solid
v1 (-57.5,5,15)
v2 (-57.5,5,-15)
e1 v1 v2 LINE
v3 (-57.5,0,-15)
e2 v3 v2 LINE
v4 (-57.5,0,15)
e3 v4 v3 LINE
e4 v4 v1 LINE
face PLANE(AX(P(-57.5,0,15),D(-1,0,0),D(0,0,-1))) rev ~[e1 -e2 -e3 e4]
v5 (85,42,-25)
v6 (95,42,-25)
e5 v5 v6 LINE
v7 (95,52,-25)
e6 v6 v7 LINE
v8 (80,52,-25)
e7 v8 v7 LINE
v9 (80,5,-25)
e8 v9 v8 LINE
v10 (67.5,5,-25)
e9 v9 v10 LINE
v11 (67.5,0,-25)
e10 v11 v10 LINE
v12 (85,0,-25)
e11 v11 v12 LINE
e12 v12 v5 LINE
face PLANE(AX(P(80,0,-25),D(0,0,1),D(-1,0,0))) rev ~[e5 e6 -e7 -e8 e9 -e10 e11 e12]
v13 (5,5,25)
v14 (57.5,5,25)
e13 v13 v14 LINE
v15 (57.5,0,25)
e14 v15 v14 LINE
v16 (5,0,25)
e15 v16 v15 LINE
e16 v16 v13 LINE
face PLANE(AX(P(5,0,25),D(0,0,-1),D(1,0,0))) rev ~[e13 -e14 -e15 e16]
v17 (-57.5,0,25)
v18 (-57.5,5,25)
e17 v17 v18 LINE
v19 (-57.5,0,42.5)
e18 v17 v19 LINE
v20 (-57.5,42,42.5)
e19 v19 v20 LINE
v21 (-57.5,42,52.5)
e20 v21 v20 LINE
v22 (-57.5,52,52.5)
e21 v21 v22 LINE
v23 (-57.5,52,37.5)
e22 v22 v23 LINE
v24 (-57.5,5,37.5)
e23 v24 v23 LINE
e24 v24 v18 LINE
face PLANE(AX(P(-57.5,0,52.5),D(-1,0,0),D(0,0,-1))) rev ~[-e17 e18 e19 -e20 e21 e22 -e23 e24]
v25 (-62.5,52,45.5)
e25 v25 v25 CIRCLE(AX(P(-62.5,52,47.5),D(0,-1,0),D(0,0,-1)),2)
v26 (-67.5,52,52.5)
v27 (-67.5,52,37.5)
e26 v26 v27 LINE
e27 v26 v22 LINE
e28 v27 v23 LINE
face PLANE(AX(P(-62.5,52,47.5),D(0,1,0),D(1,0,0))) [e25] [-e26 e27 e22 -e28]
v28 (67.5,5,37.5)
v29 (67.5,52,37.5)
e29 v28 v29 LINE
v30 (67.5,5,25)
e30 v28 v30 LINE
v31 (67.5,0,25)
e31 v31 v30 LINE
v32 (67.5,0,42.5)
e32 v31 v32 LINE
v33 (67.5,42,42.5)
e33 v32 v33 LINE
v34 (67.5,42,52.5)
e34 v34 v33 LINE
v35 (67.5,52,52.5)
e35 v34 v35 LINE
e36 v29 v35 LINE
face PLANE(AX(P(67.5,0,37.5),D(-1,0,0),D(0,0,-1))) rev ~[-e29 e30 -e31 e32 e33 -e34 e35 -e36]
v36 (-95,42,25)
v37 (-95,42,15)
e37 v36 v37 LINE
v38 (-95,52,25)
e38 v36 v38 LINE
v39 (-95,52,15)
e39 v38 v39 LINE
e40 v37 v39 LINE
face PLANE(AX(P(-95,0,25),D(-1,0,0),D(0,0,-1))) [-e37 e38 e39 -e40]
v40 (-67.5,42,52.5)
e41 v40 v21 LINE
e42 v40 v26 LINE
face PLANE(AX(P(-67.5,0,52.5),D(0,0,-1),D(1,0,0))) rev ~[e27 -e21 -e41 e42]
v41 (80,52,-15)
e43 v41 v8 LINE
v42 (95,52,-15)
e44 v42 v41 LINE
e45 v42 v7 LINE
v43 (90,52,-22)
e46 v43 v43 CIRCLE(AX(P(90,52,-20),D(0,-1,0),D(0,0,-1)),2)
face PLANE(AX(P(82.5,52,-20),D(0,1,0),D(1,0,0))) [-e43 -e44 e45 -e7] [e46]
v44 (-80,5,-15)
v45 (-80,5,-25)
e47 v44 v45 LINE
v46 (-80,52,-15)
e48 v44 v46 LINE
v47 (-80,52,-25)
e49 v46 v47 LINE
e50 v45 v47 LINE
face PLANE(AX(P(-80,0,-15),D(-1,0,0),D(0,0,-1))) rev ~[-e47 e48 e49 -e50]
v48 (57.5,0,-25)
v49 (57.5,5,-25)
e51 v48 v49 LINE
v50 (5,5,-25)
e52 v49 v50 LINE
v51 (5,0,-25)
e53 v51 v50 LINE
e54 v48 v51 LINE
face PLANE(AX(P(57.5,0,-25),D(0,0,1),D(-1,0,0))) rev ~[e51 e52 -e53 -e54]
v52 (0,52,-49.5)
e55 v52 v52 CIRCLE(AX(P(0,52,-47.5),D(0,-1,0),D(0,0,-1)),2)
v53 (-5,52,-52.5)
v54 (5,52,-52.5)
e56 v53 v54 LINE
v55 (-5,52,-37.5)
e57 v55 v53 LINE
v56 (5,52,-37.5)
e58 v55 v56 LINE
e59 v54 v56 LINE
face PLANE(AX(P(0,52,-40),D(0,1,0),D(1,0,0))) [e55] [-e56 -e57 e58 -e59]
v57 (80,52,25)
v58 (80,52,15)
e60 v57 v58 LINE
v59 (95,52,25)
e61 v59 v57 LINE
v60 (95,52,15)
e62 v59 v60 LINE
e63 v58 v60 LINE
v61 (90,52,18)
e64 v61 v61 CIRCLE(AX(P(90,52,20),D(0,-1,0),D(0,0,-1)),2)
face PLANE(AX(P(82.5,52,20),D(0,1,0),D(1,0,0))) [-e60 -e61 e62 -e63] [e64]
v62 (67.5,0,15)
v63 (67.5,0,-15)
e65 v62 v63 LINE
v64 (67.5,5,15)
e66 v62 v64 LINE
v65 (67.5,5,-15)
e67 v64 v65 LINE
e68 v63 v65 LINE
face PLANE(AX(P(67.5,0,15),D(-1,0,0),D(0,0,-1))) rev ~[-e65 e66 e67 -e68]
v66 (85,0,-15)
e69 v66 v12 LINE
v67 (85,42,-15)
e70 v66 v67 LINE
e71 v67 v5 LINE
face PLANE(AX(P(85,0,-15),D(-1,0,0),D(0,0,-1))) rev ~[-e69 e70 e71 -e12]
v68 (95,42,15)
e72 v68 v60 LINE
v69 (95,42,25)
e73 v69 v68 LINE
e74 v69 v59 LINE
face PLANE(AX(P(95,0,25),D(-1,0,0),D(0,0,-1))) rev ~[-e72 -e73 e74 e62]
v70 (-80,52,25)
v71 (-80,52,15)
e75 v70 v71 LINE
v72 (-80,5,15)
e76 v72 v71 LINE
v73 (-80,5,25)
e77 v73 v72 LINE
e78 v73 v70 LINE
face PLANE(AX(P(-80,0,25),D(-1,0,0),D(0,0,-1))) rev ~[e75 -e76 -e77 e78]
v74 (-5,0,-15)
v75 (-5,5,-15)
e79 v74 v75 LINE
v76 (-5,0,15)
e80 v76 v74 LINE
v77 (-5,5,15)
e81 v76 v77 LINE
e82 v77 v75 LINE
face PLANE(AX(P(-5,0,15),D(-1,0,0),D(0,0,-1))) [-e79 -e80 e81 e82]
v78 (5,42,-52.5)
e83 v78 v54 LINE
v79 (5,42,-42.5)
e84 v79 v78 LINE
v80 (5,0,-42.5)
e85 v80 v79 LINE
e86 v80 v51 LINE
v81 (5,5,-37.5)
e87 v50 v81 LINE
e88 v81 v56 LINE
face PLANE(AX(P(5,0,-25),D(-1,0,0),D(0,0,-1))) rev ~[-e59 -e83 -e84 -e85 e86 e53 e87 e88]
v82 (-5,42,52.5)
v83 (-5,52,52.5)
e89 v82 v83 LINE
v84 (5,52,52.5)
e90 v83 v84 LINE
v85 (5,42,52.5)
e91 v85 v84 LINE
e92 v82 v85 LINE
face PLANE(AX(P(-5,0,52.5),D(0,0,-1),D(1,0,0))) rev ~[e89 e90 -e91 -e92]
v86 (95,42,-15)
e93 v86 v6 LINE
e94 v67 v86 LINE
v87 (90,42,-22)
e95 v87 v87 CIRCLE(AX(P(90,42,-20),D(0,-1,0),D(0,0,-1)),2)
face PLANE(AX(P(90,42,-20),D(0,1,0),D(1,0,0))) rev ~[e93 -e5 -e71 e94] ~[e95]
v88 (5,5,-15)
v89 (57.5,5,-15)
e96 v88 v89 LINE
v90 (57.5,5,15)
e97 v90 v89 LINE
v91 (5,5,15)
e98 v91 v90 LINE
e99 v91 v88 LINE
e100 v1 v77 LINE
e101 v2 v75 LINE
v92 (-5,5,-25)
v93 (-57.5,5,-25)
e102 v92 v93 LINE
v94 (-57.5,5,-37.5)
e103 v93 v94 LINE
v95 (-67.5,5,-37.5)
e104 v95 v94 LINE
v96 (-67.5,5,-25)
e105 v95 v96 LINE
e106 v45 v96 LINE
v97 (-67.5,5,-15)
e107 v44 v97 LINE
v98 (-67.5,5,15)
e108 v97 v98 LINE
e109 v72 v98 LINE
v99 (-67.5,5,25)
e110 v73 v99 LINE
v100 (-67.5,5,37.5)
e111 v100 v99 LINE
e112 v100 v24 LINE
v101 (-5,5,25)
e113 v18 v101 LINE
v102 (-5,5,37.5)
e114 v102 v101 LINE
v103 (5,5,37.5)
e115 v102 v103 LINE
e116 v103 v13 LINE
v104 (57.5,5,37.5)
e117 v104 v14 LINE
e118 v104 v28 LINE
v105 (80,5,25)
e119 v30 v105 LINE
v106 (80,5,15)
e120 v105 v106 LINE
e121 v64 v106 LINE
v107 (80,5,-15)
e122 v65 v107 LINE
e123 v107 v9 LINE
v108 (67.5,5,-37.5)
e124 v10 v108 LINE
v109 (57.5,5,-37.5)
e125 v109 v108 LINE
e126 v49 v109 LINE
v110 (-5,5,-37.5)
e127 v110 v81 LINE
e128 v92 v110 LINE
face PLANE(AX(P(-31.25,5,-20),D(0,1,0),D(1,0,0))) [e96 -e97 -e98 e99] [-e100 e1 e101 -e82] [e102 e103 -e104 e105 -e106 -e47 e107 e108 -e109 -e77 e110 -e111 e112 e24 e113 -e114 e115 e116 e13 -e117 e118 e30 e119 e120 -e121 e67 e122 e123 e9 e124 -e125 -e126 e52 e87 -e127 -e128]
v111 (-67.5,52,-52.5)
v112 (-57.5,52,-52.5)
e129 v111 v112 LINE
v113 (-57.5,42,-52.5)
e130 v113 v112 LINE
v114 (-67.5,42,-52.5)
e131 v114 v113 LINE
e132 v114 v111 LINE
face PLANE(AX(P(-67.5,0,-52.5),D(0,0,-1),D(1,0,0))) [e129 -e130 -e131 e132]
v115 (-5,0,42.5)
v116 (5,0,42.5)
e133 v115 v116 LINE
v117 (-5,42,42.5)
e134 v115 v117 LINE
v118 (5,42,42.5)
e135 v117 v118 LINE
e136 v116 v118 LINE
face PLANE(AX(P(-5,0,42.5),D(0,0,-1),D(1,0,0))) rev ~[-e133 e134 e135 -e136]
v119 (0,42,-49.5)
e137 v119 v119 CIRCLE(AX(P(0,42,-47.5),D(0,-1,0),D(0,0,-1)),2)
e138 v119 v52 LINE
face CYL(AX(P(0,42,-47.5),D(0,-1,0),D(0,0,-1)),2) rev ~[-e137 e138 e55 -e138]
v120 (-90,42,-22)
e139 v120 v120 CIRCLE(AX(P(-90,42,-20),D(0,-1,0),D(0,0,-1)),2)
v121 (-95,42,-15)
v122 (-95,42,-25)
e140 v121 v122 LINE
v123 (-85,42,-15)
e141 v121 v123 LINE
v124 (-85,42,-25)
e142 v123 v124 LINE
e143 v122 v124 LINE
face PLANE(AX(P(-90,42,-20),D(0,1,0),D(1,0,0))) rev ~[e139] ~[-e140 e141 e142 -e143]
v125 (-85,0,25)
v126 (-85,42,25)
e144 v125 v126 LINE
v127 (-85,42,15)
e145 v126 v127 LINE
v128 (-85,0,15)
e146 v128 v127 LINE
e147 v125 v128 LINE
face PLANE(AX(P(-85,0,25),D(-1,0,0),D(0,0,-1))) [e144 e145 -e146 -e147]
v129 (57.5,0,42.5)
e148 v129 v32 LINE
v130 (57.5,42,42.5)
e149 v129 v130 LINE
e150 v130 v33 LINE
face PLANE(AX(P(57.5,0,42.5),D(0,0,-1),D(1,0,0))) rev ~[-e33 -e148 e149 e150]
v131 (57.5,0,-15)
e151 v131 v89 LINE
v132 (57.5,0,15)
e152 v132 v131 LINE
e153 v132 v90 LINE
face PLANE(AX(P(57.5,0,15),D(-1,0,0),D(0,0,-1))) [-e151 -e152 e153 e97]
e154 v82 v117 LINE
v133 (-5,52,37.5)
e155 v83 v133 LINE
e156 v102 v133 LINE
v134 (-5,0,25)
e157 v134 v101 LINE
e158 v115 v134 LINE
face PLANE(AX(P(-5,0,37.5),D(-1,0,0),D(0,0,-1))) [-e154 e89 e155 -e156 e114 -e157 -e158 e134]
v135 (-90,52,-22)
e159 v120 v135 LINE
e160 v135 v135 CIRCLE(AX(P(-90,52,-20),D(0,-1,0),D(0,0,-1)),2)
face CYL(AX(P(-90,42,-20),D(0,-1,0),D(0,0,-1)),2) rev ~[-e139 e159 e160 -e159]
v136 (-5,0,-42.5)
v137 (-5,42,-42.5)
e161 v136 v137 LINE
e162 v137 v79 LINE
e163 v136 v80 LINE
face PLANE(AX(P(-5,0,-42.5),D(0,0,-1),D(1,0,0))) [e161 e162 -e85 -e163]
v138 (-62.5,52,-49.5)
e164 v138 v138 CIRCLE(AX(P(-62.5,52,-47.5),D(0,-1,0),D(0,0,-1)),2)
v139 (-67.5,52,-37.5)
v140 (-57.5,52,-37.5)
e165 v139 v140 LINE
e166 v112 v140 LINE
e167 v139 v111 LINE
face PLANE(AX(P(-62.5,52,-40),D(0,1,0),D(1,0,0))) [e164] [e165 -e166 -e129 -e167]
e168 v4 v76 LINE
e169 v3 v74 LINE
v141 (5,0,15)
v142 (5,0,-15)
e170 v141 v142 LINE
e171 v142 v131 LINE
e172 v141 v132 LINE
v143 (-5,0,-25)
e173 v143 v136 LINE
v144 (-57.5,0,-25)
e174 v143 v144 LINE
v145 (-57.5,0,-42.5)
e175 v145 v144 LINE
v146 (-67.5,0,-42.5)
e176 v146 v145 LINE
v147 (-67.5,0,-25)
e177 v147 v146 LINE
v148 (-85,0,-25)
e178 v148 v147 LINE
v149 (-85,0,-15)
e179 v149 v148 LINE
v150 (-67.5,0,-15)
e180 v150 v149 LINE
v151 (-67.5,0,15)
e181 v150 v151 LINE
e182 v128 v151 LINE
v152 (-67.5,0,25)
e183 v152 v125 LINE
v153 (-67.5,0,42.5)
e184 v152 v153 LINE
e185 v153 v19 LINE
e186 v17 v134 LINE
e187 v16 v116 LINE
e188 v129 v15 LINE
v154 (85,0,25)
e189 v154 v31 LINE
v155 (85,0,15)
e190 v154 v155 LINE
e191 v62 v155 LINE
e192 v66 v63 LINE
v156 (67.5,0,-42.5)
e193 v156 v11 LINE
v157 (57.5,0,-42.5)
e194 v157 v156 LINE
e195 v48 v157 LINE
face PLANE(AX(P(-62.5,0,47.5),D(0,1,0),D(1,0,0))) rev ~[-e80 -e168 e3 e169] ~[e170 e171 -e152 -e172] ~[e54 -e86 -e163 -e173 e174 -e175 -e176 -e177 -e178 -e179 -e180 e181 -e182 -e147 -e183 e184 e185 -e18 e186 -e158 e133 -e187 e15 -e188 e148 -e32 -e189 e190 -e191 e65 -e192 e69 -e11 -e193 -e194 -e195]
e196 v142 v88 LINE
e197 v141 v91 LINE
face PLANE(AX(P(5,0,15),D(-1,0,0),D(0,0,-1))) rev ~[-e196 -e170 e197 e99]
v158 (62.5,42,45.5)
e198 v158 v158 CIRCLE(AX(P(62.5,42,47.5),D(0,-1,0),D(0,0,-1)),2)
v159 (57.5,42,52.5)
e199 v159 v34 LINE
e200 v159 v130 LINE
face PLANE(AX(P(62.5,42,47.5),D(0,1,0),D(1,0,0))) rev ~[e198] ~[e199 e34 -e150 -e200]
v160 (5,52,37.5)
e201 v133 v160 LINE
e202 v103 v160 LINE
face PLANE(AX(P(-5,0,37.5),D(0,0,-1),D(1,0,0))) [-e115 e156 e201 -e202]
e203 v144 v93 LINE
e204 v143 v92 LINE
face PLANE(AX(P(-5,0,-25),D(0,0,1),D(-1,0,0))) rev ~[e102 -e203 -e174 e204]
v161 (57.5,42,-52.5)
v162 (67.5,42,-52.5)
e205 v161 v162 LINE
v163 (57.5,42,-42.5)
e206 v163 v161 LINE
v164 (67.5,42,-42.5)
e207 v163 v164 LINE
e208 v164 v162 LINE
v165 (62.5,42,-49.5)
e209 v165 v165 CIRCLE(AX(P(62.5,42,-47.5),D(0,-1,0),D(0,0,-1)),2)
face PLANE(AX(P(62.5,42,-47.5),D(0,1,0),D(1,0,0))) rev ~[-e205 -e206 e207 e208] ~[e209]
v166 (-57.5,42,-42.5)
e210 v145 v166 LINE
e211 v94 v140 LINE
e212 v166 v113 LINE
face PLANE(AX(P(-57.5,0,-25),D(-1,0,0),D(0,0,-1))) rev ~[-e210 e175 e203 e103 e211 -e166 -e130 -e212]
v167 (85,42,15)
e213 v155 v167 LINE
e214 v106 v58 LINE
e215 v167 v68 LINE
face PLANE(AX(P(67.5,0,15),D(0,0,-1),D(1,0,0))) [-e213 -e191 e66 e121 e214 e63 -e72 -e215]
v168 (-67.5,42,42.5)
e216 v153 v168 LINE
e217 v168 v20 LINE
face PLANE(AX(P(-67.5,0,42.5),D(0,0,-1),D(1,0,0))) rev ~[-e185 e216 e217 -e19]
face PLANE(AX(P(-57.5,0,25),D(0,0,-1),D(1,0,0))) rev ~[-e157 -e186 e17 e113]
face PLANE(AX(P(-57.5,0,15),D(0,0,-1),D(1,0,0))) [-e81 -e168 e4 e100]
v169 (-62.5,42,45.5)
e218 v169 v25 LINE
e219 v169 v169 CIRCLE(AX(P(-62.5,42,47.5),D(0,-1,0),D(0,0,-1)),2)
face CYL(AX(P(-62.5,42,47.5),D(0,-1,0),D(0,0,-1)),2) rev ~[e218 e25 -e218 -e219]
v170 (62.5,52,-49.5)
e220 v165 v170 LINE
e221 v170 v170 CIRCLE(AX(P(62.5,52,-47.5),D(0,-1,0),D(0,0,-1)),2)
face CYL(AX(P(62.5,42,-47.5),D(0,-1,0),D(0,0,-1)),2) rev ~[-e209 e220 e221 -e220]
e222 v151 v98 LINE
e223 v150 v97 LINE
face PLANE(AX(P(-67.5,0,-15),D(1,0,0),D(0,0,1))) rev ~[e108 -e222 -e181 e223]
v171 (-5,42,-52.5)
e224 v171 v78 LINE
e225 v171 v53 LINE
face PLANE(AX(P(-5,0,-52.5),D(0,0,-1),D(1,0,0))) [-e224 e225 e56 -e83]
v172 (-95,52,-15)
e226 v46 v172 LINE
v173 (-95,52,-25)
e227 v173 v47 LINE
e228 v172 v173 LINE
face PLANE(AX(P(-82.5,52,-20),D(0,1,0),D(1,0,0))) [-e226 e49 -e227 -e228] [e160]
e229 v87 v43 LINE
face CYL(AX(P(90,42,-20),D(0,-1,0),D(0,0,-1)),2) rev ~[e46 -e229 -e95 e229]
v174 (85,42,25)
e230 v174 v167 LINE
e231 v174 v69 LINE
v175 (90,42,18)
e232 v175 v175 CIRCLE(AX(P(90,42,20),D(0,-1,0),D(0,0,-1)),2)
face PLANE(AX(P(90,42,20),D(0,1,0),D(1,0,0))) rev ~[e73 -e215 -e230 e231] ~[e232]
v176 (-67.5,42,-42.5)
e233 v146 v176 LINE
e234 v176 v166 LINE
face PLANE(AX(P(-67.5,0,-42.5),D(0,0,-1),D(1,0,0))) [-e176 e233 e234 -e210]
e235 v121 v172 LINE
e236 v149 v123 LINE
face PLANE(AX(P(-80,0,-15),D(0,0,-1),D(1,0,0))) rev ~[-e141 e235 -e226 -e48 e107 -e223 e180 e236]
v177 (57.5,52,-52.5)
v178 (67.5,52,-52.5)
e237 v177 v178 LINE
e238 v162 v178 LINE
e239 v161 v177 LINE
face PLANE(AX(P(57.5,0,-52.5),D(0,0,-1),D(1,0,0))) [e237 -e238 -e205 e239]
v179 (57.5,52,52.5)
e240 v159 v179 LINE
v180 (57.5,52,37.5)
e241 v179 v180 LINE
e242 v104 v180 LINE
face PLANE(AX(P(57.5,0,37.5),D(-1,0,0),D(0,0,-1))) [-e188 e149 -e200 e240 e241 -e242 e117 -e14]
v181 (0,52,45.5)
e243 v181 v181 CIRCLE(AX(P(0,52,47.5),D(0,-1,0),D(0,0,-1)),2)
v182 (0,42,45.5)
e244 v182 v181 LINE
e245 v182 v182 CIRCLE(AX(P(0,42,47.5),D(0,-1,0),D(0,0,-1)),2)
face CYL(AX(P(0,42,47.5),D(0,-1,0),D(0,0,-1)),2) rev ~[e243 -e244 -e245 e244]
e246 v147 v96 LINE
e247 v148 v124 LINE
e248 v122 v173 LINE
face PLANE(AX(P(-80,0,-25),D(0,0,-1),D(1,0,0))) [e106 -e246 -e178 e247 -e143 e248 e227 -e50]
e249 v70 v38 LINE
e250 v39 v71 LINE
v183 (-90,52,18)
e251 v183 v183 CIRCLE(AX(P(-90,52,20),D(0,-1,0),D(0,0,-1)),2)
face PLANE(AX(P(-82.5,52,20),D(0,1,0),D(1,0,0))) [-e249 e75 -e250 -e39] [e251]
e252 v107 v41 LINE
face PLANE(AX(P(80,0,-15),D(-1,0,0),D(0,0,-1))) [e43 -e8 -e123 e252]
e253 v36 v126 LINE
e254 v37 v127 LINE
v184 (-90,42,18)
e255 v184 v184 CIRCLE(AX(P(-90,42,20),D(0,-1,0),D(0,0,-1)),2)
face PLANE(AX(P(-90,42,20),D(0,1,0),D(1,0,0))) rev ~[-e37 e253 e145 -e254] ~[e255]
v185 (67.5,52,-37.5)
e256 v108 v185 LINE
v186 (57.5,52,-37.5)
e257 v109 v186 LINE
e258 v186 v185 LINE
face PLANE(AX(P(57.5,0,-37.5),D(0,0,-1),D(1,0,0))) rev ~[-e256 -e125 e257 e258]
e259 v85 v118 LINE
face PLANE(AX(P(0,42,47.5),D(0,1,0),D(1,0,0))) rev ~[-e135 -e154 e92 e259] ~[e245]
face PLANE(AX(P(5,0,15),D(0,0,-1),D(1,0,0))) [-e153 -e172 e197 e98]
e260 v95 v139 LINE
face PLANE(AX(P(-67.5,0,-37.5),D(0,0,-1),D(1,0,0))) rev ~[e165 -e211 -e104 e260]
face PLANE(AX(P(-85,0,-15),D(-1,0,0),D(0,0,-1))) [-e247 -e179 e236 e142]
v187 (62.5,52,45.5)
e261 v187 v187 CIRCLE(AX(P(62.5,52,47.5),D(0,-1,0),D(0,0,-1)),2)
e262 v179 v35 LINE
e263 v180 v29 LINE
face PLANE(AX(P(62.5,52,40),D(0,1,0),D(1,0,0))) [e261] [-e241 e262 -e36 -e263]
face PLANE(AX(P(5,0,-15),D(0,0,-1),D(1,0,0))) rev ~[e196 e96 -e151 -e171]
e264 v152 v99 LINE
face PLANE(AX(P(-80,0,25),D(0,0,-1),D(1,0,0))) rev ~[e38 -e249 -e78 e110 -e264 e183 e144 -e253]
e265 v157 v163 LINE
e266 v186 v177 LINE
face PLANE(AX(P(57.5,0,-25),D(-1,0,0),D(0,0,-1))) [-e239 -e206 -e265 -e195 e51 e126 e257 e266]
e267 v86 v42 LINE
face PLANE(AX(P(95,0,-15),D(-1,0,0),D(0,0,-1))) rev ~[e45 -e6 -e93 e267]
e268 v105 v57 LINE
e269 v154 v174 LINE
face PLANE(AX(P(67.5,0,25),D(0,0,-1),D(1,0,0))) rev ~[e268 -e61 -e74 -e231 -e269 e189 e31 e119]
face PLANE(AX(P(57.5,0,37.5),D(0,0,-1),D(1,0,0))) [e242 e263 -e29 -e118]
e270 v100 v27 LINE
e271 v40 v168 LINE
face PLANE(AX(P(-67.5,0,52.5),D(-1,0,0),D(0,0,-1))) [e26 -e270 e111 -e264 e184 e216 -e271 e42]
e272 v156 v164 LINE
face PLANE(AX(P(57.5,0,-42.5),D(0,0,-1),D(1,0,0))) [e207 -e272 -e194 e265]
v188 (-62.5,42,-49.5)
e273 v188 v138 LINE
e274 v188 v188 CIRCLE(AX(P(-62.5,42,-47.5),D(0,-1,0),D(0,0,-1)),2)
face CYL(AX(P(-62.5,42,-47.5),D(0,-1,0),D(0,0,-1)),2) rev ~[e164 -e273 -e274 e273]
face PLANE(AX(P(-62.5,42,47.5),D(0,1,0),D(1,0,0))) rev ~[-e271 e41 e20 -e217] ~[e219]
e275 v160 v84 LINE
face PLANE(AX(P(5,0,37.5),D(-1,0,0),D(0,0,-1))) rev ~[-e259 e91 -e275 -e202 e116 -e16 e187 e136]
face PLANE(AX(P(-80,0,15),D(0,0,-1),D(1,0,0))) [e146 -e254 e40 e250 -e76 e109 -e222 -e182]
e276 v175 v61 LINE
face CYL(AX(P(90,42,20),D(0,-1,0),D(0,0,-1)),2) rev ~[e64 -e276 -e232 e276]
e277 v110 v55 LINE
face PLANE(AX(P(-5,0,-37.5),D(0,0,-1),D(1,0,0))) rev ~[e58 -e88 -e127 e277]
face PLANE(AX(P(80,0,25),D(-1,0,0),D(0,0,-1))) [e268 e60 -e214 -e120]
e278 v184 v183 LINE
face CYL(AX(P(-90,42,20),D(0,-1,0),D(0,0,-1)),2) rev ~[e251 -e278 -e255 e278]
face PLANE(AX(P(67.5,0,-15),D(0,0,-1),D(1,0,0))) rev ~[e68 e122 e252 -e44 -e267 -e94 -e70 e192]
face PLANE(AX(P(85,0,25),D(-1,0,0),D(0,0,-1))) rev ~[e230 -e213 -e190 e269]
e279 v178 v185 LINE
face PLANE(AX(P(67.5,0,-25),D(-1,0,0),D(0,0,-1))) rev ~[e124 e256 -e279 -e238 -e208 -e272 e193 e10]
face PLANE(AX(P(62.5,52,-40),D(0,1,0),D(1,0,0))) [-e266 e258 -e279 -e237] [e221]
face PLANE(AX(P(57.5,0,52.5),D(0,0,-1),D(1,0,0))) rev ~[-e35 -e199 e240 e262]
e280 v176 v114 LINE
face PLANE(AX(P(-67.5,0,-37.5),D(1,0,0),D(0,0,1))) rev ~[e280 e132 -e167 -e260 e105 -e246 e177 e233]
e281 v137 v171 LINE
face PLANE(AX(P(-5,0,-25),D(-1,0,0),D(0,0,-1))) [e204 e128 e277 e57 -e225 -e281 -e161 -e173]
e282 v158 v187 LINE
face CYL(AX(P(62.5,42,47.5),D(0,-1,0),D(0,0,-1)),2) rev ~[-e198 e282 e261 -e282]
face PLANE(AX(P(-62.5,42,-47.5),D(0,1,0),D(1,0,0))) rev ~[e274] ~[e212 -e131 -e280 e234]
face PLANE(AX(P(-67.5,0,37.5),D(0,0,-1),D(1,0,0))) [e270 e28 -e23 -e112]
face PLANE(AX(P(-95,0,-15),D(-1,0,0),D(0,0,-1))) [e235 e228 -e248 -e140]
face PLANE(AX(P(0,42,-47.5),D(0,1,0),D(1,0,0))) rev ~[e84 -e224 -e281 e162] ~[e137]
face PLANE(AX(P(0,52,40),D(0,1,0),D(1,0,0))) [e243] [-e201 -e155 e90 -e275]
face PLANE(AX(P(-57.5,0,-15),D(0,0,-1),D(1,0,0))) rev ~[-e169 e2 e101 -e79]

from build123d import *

# Parameters (mm, degrees)
SKETCH2_W           = 52.5
SKETCH2_H           = 10
SKETCH2_W_2         = 10
SKETCH2_H_2         = 30
SKETCH2_H_3         = 12.5
SKETCH2_W_3         = 12.5
BOSS_EXTRUDE1_DEPTH = 5
SKETCH2_4_W         = 10
SKETCH2_4_H         = 5
SKETCH2_4_W_2       = 5
SKETCH2_4_H_2       = 10
BOSS_EXTRUDE2_DEPTH = 52
SKETCH2_5_W         = 10
SKETCH2_5_H         = 10
BOSS_EXTRUDE3_DEPTH = 52
SKETCH2_6_W         = 10
SKETCH2_6_H         = 10
CUT_EXTRUDE1_DEPTH  = 42
SKETCH3_R           = 2
CUT_EXTRUDE2_DEPTH  = 10


with BuildPart() as part:
    # Sketch2 → Boss-Extrude1 (new body)
    with BuildSketch(Plane(origin=(0, 0, 0), x_dir=(1, 0, 0), z_dir=(0, 1, 0))):
        with Locations((-31.25, 20)):
            Rectangle(SKETCH2_W, SKETCH2_H)
        with Locations((-62.5, 20)):
            Rectangle(SKETCH2_W_2, SKETCH2_H)
        with Locations((-62.5, 0)):
            Rectangle(SKETCH2_W_2, SKETCH2_H_2)
        Rectangle(SKETCH2_W_2, SKETCH2_H_2)
        with Locations((0, 20)):
            Rectangle(SKETCH2_W_2, SKETCH2_H)
        with Locations((-31.25, -20)):
            Rectangle(SKETCH2_W, SKETCH2_H)
        with Locations((0, -20)):
            Rectangle(SKETCH2_W_2, SKETCH2_H)
        with Locations((-62.5, -20)):
            Rectangle(SKETCH2_W_2, SKETCH2_H)
        with Locations((31.25, -20)):
            Rectangle(SKETCH2_W, SKETCH2_H)
        with Locations((31.25, 20)):
            Rectangle(SKETCH2_W, SKETCH2_H)
        with Locations((62.5, 0)):
            Rectangle(SKETCH2_W_2, SKETCH2_H_2)
        with Locations((62.5, 20)):
            Rectangle(SKETCH2_W_2, SKETCH2_H)
        with Locations((62.5, -20)):
            Rectangle(SKETCH2_W_2, SKETCH2_H)
        with Locations((0, -31.25)):
            Rectangle(SKETCH2_W_2, SKETCH2_H_3)
        with Locations((62.5, -31.25)):
            Rectangle(SKETCH2_W_2, SKETCH2_H_3)
        with Locations((73.75, -20)):
            Rectangle(SKETCH2_W_3, SKETCH2_H)
        with Locations((73.75, 20)):
            Rectangle(SKETCH2_W_3, SKETCH2_H)
        with Locations((0, 31.25)):
            Rectangle(SKETCH2_W_2, SKETCH2_H_3)
        with Locations((62.5, 31.25)):
            Rectangle(SKETCH2_W_2, SKETCH2_H_3)
        with Locations((-62.5, 31.25)):
            Rectangle(SKETCH2_W_2, SKETCH2_H_3)
        with Locations((-73.75, 20)):
            Rectangle(SKETCH2_W_3, SKETCH2_H)
        with Locations((-73.75, -20)):
            Rectangle(SKETCH2_W_3, SKETCH2_H)
        with Locations((-62.5, -31.25)):
            Rectangle(SKETCH2_W_2, SKETCH2_H_3)
    extrude(amount=BOSS_EXTRUDE1_DEPTH)

    # Sketch2<4> → Boss-Extrude2 (add)
    with BuildSketch(Plane(origin=(0, 0, 0), x_dir=(1, 0, 0), z_dir=(0, 1, 0))):
        with Locations((-62.5, -40)):
            Rectangle(SKETCH2_4_W, SKETCH2_4_H)
        with Locations((0, -40)):
            Rectangle(SKETCH2_4_W, SKETCH2_4_H)
        with Locations((62.5, -40)):
            Rectangle(SKETCH2_4_W, SKETCH2_4_H)
        with Locations((82.5, -20)):
            Rectangle(SKETCH2_4_W_2, SKETCH2_4_H_2)
        with Locations((82.5, 20)):
            Rectangle(SKETCH2_4_W_2, SKETCH2_4_H_2)
        with Locations((62.5, 40)):
            Rectangle(SKETCH2_4_W, SKETCH2_4_H)
        with Locations((0, 40)):
            Rectangle(SKETCH2_4_W, SKETCH2_4_H)
        with Locations((-62.5, 40)):
            Rectangle(SKETCH2_4_W, SKETCH2_4_H)
        with Locations((-82.5, 20)):
            Rectangle(SKETCH2_4_W_2, SKETCH2_4_H_2)
        with Locations((-82.5, -20)):
            Rectangle(SKETCH2_4_W_2, SKETCH2_4_H_2)
    extrude(amount=BOSS_EXTRUDE2_DEPTH)

    # Sketch2<5> → Boss-Extrude3 (add)
    with BuildSketch(Plane(origin=(0, 0, 0), x_dir=(1, 0, 0), z_dir=(0, 1, 0))):
        with Locations((-62.5, -47.5)):
            Rectangle(SKETCH2_5_W, SKETCH2_5_H)
        with Locations((-90, -20)):
            Rectangle(SKETCH2_5_W, SKETCH2_5_H)
        with Locations((-90, 20)):
            Rectangle(SKETCH2_5_W, SKETCH2_5_H)
        with Locations((-62.5, 47.5)):
            Rectangle(SKETCH2_5_W, SKETCH2_5_H)
        with Locations((0, 47.5)):
            Rectangle(SKETCH2_5_W, SKETCH2_5_H)
        with Locations((62.5, 47.5)):
            Rectangle(SKETCH2_5_W, SKETCH2_5_H)
        with Locations((90, 20)):
            Rectangle(SKETCH2_5_W, SKETCH2_5_H)
        with Locations((90, -20)):
            Rectangle(SKETCH2_5_W, SKETCH2_5_H)
        with Locations((62.5, -47.5)):
            Rectangle(SKETCH2_5_W, SKETCH2_5_H)
        with Locations((0, -47.5)):
            Rectangle(SKETCH2_5_W, SKETCH2_5_H)
    extrude(amount=BOSS_EXTRUDE3_DEPTH)

    # Sketch2<6> → Cut-Extrude1 (cut)
    with BuildSketch(Plane(origin=(0, 0, 0), x_dir=(1, 0, 0), z_dir=(0, 1, 0))):
        with Locations((-62.5, -47.5)):
            Rectangle(SKETCH2_6_W, SKETCH2_6_H)
        with Locations((-90, -20)):
            Rectangle(SKETCH2_6_W, SKETCH2_6_H)
        with Locations((-90, 20)):
            Rectangle(SKETCH2_6_W, SKETCH2_6_H)
        with Locations((-62.5, 47.5)):
            Rectangle(SKETCH2_6_W, SKETCH2_6_H)
        with Locations((0, 47.5)):
            Rectangle(SKETCH2_6_W, SKETCH2_6_H)
        with Locations((62.5, 47.5)):
            Rectangle(SKETCH2_6_W, SKETCH2_6_H)
        with Locations((90, 20)):
            Rectangle(SKETCH2_6_W, SKETCH2_6_H)
        with Locations((90, -20)):
            Rectangle(SKETCH2_6_W, SKETCH2_6_H)
        with Locations((62.5, -47.5)):
            Rectangle(SKETCH2_6_W, SKETCH2_6_H)
        with Locations((0, -47.5)):
            Rectangle(SKETCH2_6_W, SKETCH2_6_H)
    extrude(amount=CUT_EXTRUDE1_DEPTH, mode=Mode.SUBTRACT)

    # Sketch3 → Cut-Extrude2 (cut)
    with BuildSketch(Plane.XZ.offset(-42)):
        with Locations(Location((-62.5, -47.5, 0), (0, 0, 270))):
            Circle(SKETCH3_R)
        with Locations(Location((-90, -20, 0), (0, 0, 270))):
            Circle(SKETCH3_R)
        with Locations(Location((0, -47.5, 0), (0, 0, 270))):
            Circle(SKETCH3_R)
        with Locations(Location((62.5, -47.5, 0), (0, 0, 270))):
            Circle(SKETCH3_R)
        with Locations(Location((90, -20, 0), (0, 0, 270))):
            Circle(SKETCH3_R)
        with Locations(Location((90, 20, 0), (0, 0, 270))):
            Circle(SKETCH3_R)
        with Locations(Location((62.5, 47.5, 0), (0, 0, 270))):
            Circle(SKETCH3_R)
        with Locations(Location((0, 47.5, 0), (0, 0, 270))):
            Circle(SKETCH3_R)
        with Locations(Location((-90, 20, 0), (0, 0, 270))):
            Circle(SKETCH3_R)
        with Locations(Location((-62.5, 47.5, 0), (0, 0, 270))):
            Circle(SKETCH3_R)
    extrude(amount=-CUT_EXTRUDE2_DEPTH, mode=Mode.SUBTRACT)


solid = part.part
